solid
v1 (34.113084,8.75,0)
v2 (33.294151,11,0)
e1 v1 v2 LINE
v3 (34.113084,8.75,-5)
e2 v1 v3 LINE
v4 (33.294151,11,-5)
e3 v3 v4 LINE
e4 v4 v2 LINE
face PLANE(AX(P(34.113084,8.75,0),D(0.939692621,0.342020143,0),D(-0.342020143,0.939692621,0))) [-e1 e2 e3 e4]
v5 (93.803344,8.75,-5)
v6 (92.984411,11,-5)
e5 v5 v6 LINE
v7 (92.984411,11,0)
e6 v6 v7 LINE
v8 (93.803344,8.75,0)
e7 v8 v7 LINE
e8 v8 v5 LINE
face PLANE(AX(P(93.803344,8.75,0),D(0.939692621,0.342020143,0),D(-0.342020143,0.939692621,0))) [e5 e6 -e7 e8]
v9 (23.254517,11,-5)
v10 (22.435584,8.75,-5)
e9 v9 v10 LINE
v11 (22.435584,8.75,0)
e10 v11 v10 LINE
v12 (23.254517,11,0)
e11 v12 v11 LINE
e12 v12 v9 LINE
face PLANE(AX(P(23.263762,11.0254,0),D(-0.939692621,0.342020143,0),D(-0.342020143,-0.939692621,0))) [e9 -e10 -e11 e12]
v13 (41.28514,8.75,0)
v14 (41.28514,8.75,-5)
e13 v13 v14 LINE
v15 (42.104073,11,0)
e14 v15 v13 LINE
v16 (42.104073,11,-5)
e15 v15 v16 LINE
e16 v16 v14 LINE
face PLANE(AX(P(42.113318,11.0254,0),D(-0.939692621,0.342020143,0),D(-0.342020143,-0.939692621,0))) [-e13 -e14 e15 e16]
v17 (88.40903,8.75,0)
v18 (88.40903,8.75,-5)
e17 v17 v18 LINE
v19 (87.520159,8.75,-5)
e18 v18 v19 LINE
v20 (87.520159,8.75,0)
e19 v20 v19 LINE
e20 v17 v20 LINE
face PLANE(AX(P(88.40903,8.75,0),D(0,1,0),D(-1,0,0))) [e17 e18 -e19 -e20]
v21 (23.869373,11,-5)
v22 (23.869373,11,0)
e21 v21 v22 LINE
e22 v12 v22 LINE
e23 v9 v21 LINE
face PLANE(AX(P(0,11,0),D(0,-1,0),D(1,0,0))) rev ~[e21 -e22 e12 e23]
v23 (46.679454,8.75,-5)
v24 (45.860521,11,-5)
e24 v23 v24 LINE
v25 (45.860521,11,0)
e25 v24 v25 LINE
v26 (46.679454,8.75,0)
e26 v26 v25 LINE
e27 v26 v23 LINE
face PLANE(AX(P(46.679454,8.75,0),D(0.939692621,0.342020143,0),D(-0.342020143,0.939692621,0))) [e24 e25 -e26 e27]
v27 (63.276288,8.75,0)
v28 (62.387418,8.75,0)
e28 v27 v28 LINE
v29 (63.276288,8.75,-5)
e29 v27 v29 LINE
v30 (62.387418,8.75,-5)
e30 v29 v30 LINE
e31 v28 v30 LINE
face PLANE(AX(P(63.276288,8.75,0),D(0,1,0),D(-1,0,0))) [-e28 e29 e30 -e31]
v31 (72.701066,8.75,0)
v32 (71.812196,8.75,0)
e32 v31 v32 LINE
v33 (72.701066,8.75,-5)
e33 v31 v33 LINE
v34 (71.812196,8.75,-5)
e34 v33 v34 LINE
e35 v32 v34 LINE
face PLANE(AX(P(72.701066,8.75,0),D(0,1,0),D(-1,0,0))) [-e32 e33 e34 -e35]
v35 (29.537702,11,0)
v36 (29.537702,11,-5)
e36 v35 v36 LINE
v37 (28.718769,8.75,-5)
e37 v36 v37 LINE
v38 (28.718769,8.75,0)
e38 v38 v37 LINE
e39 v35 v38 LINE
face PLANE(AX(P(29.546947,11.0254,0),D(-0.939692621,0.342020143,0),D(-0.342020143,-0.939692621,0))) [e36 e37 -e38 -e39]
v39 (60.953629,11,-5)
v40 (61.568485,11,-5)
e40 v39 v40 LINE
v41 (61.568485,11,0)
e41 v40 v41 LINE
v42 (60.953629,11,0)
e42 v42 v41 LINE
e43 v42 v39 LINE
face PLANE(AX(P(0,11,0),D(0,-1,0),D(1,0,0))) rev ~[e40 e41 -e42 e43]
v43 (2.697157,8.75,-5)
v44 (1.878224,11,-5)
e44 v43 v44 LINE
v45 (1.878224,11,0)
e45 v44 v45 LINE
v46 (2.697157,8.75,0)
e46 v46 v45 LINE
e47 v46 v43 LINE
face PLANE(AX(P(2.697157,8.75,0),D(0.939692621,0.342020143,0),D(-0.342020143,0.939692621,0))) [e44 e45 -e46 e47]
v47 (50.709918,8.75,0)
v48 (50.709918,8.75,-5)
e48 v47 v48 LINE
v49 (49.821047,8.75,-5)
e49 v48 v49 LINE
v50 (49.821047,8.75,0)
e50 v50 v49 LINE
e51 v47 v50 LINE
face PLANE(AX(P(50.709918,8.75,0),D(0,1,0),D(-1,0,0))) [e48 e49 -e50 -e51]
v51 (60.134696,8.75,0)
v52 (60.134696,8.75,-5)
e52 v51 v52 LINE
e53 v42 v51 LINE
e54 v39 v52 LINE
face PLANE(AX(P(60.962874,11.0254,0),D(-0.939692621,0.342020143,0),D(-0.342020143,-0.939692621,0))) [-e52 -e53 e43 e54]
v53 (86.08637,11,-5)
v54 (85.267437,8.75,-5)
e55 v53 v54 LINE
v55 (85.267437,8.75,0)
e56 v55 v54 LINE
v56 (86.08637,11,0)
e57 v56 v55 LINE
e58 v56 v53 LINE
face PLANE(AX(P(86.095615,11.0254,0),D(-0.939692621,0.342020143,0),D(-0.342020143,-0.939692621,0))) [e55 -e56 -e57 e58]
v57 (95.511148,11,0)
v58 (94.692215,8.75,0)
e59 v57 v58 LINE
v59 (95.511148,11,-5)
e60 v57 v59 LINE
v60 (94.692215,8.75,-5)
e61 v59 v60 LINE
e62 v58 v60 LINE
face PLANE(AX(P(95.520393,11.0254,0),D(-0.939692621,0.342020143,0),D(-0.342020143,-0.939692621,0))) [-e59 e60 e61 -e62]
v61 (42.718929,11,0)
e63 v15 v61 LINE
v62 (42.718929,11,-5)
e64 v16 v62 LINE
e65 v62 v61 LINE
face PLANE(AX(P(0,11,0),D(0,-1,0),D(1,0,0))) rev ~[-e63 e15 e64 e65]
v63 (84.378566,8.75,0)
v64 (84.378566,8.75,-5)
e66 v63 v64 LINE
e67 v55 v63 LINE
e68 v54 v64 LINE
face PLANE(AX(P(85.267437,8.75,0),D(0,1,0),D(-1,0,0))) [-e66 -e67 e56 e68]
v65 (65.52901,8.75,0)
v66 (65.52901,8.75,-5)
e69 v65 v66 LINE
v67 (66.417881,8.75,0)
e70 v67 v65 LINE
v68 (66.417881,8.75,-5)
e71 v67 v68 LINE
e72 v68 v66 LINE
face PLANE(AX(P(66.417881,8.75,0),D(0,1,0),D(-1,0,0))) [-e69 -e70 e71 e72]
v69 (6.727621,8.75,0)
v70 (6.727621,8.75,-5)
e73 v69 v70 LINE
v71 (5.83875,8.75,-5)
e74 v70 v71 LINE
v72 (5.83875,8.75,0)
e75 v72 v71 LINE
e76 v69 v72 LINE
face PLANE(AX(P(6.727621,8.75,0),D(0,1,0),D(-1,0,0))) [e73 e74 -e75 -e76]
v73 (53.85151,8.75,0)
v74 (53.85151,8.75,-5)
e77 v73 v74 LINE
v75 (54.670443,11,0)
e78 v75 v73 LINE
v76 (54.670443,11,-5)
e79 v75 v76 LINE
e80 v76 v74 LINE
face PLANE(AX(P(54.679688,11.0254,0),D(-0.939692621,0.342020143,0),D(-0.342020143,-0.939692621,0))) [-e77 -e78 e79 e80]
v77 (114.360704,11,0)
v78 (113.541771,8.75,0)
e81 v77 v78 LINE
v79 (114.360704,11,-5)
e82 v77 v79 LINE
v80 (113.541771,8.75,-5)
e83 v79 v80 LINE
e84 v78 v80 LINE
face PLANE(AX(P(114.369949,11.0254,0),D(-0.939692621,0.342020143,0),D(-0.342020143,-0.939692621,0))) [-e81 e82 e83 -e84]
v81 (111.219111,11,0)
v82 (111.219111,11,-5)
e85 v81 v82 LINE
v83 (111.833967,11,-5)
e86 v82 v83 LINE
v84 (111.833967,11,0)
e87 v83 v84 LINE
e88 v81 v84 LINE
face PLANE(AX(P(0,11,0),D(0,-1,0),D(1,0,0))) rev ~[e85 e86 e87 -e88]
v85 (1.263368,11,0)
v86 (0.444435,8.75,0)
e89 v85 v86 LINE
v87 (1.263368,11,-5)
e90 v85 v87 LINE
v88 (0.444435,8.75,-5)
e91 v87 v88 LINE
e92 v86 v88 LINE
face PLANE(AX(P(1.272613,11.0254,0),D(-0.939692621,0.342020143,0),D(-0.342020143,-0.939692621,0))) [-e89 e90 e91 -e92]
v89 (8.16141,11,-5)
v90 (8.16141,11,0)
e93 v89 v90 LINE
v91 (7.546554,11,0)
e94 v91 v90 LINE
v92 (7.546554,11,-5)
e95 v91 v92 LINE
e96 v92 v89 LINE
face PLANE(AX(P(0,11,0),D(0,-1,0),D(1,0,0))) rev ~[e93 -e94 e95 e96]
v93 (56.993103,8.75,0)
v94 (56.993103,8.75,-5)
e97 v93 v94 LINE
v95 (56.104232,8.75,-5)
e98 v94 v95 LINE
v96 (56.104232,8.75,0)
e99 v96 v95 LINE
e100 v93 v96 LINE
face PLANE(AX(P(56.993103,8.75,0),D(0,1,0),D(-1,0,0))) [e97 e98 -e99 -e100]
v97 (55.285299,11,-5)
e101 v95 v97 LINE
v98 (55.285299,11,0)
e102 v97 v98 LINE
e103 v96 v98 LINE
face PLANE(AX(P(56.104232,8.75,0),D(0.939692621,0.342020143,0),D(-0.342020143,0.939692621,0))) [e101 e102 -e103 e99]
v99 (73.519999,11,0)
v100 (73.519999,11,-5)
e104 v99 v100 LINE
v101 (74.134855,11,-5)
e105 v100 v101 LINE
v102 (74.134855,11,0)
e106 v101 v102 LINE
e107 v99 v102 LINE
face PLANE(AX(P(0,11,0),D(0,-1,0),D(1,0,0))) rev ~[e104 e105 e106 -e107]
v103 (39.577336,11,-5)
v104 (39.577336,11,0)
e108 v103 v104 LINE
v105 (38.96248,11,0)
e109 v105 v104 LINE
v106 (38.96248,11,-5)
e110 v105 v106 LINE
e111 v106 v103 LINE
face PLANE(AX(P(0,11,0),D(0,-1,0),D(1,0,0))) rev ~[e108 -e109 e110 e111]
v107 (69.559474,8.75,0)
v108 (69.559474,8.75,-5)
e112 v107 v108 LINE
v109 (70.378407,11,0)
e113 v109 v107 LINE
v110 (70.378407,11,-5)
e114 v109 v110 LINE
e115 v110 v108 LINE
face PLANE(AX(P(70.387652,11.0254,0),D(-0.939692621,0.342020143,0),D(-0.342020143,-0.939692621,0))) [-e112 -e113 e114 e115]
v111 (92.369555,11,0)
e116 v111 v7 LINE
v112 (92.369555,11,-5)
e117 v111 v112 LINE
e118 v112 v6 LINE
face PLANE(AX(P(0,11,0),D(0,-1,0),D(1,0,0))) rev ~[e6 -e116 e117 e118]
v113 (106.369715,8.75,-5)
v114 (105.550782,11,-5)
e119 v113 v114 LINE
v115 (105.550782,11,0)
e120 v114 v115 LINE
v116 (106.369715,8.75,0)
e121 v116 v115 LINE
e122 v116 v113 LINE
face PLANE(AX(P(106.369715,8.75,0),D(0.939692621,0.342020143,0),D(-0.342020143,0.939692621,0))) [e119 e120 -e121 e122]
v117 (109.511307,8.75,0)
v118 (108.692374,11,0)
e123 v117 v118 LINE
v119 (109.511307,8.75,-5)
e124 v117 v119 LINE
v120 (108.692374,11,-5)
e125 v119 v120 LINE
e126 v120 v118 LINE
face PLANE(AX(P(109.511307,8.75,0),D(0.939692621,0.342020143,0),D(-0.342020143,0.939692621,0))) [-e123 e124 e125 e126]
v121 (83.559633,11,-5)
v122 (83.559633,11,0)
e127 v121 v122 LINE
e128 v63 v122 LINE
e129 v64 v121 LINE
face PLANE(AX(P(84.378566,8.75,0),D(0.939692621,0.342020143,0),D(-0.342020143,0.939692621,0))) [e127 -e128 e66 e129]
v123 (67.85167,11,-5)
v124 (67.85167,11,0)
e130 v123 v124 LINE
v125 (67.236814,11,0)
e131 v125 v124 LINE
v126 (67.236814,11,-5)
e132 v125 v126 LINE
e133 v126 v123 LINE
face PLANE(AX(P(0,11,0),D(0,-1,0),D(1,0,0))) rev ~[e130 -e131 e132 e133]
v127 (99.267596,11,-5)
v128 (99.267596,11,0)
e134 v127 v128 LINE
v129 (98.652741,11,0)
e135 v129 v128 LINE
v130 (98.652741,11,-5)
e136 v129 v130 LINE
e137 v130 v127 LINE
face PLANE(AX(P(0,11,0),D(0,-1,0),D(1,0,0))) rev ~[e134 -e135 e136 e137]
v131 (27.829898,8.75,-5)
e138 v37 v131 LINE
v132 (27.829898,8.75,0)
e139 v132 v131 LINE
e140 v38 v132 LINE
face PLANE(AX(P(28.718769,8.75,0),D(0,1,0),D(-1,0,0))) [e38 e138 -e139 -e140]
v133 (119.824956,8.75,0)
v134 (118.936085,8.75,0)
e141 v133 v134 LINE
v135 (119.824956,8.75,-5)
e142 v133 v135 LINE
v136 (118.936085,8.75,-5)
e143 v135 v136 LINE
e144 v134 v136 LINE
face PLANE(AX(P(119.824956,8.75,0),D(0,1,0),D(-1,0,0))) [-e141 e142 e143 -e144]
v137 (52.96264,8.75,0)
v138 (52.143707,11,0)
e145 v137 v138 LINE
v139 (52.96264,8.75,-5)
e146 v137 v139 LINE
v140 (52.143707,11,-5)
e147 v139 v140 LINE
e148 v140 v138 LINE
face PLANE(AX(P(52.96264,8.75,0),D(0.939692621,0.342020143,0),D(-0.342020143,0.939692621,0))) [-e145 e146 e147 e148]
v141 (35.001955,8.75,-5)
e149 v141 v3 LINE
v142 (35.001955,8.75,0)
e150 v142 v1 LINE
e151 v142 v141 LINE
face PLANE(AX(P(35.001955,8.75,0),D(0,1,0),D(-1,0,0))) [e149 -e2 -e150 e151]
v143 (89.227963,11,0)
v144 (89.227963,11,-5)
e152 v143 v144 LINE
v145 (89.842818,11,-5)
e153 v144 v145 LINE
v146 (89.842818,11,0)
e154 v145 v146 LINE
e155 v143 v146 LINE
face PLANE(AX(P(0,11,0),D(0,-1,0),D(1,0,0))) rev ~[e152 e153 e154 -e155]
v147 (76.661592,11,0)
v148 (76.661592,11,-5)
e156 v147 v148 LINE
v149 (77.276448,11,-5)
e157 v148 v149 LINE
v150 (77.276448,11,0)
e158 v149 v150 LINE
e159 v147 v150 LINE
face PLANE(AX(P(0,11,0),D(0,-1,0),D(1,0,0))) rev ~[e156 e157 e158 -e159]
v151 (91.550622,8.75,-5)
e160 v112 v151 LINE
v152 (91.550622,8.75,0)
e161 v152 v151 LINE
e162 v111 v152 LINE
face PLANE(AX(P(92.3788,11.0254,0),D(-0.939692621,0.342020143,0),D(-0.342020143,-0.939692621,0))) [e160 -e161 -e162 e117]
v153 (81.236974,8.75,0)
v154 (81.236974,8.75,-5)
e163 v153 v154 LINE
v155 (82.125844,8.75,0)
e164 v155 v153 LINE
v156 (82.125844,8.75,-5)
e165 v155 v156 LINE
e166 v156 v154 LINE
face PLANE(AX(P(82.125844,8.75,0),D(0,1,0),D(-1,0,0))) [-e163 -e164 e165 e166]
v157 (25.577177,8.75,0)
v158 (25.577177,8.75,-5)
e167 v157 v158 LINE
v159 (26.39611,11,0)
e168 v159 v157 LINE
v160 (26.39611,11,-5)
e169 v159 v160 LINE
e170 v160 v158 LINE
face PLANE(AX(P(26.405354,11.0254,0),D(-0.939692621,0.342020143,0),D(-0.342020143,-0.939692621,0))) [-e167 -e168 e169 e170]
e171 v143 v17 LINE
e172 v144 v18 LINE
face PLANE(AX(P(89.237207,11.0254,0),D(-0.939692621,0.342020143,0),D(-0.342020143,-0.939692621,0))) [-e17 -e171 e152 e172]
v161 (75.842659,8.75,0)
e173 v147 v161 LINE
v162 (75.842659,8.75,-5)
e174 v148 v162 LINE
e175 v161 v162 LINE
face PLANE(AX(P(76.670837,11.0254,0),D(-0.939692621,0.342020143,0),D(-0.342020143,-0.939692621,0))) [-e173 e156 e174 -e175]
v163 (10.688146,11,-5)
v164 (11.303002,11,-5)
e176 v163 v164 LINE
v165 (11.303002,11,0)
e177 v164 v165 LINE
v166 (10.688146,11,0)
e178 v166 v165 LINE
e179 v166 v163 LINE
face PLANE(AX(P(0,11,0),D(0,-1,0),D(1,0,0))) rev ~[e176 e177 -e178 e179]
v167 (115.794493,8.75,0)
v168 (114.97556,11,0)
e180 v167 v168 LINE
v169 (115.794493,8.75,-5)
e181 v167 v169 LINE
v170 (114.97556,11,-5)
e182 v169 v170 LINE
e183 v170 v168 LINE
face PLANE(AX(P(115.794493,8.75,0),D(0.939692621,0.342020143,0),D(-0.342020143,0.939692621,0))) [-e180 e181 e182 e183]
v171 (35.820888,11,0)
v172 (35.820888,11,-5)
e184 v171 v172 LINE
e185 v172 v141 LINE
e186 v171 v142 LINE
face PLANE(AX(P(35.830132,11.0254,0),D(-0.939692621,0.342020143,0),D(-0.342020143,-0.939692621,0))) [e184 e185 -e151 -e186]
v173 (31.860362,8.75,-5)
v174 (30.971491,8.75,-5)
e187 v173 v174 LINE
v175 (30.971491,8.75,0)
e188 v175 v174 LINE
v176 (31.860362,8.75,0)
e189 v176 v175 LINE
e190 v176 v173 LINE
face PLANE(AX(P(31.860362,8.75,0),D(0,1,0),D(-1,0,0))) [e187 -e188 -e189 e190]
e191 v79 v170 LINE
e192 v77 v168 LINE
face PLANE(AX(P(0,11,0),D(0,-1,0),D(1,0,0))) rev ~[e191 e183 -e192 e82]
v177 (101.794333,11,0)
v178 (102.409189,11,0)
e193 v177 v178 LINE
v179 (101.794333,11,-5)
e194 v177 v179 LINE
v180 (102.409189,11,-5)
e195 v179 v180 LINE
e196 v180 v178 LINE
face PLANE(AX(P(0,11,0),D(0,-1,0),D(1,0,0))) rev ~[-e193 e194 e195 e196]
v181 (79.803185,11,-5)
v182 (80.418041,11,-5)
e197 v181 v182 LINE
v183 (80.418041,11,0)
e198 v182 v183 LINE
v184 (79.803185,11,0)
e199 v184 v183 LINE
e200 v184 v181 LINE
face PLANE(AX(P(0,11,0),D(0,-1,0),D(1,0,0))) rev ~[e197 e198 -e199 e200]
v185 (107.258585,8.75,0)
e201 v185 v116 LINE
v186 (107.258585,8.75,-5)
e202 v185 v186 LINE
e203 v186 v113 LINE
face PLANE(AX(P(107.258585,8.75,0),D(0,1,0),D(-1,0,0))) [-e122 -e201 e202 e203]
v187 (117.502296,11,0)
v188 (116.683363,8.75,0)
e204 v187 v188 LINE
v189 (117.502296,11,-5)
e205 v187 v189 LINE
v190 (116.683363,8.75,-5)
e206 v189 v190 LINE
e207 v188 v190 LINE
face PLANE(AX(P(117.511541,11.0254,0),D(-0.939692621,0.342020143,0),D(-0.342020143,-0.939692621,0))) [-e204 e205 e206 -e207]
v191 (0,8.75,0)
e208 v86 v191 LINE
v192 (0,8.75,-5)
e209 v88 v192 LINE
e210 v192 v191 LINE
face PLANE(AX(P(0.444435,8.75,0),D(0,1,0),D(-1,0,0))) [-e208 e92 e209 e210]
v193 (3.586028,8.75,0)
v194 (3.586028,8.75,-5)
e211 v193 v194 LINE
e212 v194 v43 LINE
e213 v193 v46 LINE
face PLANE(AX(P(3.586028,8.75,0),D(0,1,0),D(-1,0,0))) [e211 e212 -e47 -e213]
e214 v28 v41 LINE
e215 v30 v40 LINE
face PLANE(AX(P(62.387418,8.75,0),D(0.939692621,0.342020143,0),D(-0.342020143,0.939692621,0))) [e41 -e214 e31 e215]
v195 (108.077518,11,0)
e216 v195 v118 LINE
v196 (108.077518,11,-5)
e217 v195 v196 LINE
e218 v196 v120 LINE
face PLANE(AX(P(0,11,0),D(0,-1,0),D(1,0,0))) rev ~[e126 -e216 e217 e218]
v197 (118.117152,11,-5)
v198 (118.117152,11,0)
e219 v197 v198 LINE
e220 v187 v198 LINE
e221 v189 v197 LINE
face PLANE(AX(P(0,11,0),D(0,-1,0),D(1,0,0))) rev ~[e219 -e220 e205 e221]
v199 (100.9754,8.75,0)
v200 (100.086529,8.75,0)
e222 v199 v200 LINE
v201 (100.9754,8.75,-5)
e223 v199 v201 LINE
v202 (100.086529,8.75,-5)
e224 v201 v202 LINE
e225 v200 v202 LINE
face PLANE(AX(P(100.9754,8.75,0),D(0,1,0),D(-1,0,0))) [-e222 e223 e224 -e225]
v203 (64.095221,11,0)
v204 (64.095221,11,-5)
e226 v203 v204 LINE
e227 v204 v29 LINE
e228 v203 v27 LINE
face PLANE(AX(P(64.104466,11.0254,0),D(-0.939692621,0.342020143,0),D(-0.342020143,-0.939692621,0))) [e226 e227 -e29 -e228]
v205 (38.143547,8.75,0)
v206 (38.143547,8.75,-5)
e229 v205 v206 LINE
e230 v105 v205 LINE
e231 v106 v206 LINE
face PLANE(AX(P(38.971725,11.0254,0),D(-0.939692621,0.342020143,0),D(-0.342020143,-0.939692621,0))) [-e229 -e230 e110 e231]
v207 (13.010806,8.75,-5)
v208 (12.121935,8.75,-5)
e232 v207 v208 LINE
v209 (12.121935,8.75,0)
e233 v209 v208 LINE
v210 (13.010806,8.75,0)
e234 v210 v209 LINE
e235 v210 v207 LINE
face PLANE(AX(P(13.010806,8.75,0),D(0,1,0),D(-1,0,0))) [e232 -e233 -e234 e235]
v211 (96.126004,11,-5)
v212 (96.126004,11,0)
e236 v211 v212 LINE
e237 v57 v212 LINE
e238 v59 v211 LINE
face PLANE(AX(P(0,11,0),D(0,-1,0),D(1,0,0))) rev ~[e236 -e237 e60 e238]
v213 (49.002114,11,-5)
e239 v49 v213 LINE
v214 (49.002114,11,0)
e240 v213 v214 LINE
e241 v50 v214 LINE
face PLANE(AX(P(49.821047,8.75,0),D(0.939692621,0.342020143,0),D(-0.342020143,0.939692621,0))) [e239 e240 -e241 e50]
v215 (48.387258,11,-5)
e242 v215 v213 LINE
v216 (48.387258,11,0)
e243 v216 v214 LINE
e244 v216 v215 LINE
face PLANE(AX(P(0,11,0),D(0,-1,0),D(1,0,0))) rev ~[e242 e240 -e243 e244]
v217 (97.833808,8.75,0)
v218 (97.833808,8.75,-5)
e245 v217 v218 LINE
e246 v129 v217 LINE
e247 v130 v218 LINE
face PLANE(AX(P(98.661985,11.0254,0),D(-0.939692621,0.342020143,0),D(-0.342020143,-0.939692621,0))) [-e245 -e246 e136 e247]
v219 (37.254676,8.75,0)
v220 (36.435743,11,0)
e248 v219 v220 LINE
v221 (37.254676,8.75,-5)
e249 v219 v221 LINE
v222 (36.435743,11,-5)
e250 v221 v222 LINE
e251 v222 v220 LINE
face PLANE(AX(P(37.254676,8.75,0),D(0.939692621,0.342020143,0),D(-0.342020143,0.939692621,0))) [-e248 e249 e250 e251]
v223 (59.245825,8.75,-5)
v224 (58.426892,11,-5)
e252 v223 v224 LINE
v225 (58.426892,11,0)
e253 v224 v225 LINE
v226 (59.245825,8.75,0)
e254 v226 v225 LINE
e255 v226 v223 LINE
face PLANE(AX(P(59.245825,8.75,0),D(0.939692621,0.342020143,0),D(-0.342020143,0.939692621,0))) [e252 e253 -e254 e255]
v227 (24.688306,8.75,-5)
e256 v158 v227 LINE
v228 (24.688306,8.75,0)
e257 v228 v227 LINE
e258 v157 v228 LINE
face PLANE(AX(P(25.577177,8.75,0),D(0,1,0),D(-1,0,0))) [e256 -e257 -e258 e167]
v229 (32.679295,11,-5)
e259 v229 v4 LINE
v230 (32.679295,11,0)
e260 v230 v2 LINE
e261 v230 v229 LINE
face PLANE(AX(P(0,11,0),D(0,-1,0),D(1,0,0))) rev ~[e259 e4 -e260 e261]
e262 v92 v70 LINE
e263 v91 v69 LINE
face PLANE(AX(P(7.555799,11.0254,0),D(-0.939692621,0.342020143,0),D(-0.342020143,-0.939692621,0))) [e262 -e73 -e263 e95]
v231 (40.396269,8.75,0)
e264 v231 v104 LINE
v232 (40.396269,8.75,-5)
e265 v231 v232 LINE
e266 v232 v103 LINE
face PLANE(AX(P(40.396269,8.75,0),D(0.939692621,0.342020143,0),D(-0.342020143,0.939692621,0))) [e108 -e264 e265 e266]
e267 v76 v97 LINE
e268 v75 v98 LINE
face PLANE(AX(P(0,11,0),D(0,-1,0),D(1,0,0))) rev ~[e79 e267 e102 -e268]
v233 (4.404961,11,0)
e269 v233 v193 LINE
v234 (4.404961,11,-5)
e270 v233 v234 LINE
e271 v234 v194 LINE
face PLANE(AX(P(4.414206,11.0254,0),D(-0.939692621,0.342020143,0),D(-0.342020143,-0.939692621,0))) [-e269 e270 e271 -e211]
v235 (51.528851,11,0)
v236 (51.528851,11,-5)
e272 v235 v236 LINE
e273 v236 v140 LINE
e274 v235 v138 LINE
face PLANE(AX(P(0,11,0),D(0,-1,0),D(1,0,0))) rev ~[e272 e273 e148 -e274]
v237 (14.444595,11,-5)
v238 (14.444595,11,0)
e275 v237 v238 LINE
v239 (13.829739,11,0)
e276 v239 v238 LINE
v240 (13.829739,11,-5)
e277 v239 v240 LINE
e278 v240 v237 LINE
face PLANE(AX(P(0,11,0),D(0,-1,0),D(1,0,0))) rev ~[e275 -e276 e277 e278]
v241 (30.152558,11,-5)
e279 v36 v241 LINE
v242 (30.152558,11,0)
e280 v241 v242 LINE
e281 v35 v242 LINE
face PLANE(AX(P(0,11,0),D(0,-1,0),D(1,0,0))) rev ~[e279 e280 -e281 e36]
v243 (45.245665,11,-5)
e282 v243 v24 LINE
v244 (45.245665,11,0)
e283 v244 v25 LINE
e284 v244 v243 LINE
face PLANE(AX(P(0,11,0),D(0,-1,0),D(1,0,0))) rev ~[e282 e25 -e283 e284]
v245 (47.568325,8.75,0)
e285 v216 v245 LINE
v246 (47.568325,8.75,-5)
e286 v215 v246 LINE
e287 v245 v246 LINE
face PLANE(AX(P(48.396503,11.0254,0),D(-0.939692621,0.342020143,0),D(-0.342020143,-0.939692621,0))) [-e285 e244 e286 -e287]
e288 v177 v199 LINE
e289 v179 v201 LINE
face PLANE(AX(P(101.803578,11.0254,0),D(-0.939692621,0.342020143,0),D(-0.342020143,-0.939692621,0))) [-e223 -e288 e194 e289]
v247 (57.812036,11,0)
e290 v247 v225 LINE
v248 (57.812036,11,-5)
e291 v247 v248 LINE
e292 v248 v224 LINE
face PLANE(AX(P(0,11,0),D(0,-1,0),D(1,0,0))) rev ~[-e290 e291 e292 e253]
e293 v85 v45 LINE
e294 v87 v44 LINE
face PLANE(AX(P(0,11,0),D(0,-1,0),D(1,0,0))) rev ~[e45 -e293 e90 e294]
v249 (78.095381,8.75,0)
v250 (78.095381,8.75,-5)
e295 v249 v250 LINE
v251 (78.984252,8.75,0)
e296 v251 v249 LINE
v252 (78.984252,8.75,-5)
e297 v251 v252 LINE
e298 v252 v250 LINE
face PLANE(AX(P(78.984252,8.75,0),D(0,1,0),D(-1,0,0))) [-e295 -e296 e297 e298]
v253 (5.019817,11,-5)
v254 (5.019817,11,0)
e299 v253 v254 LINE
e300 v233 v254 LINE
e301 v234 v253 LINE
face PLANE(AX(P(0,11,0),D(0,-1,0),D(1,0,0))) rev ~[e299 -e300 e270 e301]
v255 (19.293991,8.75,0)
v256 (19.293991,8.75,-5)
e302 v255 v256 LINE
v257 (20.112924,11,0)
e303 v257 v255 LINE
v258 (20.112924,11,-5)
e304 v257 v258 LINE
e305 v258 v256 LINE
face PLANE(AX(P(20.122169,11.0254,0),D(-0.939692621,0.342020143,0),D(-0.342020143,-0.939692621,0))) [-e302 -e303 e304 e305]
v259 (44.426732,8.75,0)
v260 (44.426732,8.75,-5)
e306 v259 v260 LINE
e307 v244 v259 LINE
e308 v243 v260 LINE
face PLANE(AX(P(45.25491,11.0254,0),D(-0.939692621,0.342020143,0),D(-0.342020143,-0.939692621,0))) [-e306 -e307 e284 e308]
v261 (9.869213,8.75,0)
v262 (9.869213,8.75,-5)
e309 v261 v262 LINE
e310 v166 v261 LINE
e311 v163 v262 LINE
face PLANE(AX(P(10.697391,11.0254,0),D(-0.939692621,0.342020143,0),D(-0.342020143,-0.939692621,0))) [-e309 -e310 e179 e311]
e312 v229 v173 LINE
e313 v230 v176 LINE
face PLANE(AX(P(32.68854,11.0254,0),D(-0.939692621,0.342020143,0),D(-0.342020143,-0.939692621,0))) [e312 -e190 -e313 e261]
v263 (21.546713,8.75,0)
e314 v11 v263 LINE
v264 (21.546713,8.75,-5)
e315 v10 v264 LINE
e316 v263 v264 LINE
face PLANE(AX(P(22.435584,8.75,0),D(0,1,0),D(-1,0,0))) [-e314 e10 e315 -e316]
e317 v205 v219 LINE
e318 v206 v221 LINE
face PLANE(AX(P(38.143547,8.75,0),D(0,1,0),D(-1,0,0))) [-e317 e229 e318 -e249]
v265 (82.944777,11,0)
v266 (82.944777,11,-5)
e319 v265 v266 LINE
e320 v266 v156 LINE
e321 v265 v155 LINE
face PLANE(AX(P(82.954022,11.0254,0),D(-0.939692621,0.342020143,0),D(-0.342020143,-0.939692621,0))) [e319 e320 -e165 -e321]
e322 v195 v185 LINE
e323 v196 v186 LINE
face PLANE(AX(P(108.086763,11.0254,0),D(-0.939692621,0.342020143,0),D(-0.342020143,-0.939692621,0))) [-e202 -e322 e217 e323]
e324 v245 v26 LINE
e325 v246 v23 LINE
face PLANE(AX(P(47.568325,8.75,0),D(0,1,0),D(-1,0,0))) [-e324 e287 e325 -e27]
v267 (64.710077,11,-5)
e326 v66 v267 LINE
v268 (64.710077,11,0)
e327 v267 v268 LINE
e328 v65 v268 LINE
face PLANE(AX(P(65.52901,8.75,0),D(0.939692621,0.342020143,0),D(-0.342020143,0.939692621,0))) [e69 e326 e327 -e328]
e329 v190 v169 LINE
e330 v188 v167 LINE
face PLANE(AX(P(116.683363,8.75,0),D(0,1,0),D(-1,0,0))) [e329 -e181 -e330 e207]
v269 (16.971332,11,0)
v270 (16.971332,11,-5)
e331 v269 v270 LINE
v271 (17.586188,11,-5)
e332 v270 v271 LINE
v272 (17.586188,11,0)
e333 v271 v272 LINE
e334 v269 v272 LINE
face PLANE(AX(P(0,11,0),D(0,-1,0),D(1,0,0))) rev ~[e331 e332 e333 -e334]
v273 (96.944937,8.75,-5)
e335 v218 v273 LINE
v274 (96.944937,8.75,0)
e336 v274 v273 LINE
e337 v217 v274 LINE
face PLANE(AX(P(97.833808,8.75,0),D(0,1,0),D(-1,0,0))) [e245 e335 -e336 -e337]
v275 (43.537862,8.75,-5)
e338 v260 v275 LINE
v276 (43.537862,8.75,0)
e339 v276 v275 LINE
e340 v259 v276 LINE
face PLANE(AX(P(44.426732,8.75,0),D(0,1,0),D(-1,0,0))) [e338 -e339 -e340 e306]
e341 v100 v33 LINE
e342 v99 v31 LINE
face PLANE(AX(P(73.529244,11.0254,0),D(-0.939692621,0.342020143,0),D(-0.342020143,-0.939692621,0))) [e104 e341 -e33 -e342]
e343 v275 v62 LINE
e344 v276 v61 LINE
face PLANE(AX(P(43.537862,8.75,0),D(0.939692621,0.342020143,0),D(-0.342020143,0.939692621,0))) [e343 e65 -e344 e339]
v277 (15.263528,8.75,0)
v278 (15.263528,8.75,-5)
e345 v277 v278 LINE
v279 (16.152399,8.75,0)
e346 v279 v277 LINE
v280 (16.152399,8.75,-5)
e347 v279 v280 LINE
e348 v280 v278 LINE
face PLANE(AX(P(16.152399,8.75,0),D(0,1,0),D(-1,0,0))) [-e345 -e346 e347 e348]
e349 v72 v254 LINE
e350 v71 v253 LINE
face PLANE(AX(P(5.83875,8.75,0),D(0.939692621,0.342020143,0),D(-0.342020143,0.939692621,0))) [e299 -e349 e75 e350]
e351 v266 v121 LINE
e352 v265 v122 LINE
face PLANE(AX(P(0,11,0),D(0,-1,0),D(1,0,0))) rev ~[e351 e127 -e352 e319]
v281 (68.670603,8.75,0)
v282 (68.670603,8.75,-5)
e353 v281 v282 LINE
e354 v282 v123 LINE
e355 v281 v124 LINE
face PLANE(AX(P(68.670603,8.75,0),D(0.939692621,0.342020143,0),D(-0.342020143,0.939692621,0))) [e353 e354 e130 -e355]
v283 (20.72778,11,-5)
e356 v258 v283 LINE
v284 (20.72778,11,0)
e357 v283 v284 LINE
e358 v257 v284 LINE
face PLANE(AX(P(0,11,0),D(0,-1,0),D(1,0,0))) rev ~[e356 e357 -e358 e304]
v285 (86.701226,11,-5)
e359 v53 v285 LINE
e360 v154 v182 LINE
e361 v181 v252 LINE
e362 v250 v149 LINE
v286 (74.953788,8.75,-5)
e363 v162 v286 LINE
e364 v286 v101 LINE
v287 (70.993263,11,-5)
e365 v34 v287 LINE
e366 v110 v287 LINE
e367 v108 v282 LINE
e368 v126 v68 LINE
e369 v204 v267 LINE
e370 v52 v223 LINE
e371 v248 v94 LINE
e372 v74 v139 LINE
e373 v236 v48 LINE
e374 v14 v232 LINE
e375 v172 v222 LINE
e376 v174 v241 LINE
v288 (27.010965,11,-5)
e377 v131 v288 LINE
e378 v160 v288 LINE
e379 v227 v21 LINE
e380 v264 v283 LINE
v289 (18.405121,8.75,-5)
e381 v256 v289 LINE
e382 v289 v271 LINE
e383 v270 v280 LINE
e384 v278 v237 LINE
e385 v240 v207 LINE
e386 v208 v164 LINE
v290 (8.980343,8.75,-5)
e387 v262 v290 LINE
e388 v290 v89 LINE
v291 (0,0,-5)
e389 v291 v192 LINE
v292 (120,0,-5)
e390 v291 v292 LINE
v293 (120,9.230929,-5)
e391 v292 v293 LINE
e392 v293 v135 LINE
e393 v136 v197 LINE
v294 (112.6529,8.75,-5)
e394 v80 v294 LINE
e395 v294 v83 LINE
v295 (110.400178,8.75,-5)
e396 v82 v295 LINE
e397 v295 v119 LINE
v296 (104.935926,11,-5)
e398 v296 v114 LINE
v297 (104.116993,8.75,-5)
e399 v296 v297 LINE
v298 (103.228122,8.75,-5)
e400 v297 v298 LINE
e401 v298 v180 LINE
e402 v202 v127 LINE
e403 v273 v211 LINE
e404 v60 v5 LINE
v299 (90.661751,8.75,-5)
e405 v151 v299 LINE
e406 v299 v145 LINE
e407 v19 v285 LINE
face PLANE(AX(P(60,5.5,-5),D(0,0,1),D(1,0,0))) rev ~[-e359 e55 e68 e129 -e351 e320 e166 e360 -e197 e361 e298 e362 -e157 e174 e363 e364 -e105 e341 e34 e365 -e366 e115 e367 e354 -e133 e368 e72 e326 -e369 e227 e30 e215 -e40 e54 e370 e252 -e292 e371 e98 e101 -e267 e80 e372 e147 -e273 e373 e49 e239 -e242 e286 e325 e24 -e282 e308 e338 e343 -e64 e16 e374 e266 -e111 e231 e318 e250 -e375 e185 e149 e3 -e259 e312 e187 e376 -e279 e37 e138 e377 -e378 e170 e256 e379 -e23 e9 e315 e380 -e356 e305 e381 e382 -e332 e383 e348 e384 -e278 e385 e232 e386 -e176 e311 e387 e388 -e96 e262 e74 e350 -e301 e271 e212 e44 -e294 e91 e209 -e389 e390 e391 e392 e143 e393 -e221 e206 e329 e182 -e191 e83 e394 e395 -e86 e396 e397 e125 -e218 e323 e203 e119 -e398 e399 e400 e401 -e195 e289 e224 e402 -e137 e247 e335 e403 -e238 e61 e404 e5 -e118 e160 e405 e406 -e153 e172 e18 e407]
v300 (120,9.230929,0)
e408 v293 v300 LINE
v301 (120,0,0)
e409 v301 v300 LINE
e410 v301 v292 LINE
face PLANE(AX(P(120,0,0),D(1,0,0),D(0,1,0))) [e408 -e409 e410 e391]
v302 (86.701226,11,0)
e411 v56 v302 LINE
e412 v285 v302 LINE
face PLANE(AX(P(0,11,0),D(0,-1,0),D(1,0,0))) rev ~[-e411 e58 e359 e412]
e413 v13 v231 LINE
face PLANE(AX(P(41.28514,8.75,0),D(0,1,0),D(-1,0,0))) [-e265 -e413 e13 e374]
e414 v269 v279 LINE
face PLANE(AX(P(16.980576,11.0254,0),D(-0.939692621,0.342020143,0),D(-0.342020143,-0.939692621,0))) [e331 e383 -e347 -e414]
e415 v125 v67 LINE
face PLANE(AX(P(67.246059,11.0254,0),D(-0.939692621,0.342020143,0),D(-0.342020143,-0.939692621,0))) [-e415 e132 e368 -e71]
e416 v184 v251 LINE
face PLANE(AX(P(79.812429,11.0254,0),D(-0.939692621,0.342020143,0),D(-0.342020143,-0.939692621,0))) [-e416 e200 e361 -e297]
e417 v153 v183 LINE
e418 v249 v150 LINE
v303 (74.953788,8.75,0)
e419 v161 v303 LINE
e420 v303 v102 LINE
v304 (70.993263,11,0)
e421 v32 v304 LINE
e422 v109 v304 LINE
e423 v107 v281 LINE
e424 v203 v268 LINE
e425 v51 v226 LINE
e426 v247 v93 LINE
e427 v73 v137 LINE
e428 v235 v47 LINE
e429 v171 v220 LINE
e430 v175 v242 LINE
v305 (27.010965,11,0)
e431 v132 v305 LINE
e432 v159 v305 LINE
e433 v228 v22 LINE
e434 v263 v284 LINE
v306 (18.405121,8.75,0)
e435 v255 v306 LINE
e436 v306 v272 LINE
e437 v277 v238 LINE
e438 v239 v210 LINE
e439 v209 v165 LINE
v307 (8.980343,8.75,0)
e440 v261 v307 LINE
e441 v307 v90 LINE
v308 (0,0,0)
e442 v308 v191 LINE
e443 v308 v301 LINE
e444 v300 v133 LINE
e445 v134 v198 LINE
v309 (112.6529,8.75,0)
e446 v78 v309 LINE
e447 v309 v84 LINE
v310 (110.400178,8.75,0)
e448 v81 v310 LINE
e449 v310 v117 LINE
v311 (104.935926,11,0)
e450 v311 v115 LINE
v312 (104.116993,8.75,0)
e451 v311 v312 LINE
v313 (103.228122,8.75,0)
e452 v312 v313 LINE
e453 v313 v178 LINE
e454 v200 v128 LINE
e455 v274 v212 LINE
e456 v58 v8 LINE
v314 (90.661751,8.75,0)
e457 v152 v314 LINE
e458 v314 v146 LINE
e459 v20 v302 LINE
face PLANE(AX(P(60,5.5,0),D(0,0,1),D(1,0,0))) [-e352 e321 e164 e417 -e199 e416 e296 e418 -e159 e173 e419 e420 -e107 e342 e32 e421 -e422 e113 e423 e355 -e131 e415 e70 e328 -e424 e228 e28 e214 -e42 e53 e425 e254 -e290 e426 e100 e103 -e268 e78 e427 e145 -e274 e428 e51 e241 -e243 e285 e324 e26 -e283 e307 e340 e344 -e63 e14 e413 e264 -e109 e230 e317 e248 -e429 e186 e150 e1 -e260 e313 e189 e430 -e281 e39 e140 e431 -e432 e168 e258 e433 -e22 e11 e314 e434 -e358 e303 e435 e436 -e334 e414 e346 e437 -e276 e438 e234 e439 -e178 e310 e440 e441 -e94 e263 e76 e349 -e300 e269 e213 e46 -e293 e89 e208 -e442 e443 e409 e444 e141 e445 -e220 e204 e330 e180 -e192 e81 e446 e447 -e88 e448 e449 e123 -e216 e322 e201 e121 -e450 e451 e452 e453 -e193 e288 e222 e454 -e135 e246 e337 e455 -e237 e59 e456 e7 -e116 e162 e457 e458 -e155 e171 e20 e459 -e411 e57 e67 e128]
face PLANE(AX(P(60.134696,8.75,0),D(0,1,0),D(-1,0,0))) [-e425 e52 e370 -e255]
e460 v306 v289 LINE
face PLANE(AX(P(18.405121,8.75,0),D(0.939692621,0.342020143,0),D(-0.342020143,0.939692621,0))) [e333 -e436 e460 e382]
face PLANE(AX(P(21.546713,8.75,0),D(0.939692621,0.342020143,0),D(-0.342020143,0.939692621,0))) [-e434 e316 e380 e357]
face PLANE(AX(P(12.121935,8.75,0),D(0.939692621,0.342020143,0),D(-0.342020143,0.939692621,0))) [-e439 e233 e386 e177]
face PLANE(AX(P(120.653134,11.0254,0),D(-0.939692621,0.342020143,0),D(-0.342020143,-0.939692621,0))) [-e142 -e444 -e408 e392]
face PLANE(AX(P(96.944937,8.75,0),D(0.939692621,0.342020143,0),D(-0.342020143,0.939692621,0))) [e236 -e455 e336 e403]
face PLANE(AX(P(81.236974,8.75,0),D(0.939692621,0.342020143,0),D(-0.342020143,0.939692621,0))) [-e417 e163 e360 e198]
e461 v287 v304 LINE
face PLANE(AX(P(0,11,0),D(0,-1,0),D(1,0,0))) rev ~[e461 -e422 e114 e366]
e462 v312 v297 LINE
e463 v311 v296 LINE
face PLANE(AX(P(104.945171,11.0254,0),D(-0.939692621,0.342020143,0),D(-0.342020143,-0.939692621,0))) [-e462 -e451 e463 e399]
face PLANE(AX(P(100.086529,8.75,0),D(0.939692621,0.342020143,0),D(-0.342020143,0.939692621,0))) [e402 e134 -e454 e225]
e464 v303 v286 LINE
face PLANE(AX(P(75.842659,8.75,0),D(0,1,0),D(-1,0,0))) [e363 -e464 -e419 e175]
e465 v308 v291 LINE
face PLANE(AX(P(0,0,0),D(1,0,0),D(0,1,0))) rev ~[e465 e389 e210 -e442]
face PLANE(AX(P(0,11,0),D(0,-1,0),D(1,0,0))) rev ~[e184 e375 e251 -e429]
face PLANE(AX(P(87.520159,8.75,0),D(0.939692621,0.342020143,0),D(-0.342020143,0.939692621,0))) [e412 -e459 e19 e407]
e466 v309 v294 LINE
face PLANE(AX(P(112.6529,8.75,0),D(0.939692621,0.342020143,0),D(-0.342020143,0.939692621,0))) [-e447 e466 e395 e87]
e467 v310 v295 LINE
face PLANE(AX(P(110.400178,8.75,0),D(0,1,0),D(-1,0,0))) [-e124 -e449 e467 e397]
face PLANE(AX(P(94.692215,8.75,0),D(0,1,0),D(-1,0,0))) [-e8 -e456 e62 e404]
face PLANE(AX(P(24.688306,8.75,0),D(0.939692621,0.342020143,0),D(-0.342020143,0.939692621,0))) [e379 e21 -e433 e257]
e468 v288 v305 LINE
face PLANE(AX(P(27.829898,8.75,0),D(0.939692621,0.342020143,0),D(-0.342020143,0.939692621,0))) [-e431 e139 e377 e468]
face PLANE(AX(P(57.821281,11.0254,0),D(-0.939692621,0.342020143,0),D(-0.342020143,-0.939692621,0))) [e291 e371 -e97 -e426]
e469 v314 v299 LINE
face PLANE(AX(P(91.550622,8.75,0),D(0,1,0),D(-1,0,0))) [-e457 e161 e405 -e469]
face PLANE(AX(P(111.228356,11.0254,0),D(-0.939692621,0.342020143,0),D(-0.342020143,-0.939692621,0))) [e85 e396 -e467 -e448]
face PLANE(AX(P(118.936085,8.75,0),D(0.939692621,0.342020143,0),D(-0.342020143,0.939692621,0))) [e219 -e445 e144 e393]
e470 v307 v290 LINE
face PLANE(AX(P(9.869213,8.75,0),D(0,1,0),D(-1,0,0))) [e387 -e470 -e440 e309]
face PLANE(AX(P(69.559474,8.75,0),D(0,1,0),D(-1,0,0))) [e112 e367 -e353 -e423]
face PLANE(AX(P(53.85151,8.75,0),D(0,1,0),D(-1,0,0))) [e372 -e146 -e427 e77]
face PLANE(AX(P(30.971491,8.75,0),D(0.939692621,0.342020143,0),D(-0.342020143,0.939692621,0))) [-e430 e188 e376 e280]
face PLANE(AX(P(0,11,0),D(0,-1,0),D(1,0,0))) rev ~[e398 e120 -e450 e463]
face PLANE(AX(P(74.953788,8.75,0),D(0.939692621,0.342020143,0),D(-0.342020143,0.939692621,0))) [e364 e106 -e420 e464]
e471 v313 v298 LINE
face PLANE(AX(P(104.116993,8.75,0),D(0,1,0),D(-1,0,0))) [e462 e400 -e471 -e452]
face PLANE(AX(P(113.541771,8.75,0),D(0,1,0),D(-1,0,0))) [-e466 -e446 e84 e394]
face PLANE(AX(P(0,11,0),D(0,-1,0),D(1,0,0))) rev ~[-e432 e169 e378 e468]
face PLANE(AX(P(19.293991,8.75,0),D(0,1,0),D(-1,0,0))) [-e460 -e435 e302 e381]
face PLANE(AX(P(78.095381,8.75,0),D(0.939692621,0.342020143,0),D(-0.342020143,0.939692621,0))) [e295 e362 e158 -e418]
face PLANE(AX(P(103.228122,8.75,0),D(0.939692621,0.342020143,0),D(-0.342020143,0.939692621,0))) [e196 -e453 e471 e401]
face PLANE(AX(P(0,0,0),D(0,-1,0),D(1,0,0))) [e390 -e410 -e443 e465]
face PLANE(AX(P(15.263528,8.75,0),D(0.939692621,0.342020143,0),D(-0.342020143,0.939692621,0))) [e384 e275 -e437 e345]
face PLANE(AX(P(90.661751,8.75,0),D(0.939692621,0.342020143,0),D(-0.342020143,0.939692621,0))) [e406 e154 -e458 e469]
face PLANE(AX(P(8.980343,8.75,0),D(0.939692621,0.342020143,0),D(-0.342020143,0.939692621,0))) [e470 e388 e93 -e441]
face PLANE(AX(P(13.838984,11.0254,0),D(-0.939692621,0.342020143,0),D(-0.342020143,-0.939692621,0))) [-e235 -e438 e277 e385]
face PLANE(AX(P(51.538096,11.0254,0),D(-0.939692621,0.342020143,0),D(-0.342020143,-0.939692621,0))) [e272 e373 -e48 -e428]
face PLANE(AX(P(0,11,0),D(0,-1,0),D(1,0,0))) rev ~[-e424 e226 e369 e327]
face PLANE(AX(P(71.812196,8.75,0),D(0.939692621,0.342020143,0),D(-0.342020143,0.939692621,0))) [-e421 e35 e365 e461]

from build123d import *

# Parameters (mm, degrees)
BLANKSKE_W        = 120
BLANKSKE_H        = 11
BLANK_DEPTH       = 5
TOOTHCUTSIM_DEPTH = 121.606799145
TEETHCUTS_COUNT   = 39
TEETHCUTS_PITCH   = 3.14159265


with BuildPart() as part:
    # BlankSke → Blank (new body)
    with BuildSketch(Plane.XY):
        with Locations((60, 5.5)):
            Rectangle(BLANKSKE_W, BLANKSKE_H)
    extrude(amount=-BLANK_DEPTH)

    # TooCutSkeSim → ToothCutSim (cut, through all)
    with BuildSketch(Plane.XY):
        Polygon((0.44443537, 8.75), (-0.44443537, 8.75), (-1.272613241, 11.0254), (1.272613241, 11.0254), align=None)
    toothcutsim = extrude(amount=-TOOTHCUTSIM_DEPTH, mode=Mode.SUBTRACT)

    # TeethCuts: ToothCutSim ×39
    with Locations(*[(i * TEETHCUTS_PITCH, 0, 0) for i in range(1, TEETHCUTS_COUNT)]):
        add(toothcutsim, mode=Mode.SUBTRACT)


solid = part.part
